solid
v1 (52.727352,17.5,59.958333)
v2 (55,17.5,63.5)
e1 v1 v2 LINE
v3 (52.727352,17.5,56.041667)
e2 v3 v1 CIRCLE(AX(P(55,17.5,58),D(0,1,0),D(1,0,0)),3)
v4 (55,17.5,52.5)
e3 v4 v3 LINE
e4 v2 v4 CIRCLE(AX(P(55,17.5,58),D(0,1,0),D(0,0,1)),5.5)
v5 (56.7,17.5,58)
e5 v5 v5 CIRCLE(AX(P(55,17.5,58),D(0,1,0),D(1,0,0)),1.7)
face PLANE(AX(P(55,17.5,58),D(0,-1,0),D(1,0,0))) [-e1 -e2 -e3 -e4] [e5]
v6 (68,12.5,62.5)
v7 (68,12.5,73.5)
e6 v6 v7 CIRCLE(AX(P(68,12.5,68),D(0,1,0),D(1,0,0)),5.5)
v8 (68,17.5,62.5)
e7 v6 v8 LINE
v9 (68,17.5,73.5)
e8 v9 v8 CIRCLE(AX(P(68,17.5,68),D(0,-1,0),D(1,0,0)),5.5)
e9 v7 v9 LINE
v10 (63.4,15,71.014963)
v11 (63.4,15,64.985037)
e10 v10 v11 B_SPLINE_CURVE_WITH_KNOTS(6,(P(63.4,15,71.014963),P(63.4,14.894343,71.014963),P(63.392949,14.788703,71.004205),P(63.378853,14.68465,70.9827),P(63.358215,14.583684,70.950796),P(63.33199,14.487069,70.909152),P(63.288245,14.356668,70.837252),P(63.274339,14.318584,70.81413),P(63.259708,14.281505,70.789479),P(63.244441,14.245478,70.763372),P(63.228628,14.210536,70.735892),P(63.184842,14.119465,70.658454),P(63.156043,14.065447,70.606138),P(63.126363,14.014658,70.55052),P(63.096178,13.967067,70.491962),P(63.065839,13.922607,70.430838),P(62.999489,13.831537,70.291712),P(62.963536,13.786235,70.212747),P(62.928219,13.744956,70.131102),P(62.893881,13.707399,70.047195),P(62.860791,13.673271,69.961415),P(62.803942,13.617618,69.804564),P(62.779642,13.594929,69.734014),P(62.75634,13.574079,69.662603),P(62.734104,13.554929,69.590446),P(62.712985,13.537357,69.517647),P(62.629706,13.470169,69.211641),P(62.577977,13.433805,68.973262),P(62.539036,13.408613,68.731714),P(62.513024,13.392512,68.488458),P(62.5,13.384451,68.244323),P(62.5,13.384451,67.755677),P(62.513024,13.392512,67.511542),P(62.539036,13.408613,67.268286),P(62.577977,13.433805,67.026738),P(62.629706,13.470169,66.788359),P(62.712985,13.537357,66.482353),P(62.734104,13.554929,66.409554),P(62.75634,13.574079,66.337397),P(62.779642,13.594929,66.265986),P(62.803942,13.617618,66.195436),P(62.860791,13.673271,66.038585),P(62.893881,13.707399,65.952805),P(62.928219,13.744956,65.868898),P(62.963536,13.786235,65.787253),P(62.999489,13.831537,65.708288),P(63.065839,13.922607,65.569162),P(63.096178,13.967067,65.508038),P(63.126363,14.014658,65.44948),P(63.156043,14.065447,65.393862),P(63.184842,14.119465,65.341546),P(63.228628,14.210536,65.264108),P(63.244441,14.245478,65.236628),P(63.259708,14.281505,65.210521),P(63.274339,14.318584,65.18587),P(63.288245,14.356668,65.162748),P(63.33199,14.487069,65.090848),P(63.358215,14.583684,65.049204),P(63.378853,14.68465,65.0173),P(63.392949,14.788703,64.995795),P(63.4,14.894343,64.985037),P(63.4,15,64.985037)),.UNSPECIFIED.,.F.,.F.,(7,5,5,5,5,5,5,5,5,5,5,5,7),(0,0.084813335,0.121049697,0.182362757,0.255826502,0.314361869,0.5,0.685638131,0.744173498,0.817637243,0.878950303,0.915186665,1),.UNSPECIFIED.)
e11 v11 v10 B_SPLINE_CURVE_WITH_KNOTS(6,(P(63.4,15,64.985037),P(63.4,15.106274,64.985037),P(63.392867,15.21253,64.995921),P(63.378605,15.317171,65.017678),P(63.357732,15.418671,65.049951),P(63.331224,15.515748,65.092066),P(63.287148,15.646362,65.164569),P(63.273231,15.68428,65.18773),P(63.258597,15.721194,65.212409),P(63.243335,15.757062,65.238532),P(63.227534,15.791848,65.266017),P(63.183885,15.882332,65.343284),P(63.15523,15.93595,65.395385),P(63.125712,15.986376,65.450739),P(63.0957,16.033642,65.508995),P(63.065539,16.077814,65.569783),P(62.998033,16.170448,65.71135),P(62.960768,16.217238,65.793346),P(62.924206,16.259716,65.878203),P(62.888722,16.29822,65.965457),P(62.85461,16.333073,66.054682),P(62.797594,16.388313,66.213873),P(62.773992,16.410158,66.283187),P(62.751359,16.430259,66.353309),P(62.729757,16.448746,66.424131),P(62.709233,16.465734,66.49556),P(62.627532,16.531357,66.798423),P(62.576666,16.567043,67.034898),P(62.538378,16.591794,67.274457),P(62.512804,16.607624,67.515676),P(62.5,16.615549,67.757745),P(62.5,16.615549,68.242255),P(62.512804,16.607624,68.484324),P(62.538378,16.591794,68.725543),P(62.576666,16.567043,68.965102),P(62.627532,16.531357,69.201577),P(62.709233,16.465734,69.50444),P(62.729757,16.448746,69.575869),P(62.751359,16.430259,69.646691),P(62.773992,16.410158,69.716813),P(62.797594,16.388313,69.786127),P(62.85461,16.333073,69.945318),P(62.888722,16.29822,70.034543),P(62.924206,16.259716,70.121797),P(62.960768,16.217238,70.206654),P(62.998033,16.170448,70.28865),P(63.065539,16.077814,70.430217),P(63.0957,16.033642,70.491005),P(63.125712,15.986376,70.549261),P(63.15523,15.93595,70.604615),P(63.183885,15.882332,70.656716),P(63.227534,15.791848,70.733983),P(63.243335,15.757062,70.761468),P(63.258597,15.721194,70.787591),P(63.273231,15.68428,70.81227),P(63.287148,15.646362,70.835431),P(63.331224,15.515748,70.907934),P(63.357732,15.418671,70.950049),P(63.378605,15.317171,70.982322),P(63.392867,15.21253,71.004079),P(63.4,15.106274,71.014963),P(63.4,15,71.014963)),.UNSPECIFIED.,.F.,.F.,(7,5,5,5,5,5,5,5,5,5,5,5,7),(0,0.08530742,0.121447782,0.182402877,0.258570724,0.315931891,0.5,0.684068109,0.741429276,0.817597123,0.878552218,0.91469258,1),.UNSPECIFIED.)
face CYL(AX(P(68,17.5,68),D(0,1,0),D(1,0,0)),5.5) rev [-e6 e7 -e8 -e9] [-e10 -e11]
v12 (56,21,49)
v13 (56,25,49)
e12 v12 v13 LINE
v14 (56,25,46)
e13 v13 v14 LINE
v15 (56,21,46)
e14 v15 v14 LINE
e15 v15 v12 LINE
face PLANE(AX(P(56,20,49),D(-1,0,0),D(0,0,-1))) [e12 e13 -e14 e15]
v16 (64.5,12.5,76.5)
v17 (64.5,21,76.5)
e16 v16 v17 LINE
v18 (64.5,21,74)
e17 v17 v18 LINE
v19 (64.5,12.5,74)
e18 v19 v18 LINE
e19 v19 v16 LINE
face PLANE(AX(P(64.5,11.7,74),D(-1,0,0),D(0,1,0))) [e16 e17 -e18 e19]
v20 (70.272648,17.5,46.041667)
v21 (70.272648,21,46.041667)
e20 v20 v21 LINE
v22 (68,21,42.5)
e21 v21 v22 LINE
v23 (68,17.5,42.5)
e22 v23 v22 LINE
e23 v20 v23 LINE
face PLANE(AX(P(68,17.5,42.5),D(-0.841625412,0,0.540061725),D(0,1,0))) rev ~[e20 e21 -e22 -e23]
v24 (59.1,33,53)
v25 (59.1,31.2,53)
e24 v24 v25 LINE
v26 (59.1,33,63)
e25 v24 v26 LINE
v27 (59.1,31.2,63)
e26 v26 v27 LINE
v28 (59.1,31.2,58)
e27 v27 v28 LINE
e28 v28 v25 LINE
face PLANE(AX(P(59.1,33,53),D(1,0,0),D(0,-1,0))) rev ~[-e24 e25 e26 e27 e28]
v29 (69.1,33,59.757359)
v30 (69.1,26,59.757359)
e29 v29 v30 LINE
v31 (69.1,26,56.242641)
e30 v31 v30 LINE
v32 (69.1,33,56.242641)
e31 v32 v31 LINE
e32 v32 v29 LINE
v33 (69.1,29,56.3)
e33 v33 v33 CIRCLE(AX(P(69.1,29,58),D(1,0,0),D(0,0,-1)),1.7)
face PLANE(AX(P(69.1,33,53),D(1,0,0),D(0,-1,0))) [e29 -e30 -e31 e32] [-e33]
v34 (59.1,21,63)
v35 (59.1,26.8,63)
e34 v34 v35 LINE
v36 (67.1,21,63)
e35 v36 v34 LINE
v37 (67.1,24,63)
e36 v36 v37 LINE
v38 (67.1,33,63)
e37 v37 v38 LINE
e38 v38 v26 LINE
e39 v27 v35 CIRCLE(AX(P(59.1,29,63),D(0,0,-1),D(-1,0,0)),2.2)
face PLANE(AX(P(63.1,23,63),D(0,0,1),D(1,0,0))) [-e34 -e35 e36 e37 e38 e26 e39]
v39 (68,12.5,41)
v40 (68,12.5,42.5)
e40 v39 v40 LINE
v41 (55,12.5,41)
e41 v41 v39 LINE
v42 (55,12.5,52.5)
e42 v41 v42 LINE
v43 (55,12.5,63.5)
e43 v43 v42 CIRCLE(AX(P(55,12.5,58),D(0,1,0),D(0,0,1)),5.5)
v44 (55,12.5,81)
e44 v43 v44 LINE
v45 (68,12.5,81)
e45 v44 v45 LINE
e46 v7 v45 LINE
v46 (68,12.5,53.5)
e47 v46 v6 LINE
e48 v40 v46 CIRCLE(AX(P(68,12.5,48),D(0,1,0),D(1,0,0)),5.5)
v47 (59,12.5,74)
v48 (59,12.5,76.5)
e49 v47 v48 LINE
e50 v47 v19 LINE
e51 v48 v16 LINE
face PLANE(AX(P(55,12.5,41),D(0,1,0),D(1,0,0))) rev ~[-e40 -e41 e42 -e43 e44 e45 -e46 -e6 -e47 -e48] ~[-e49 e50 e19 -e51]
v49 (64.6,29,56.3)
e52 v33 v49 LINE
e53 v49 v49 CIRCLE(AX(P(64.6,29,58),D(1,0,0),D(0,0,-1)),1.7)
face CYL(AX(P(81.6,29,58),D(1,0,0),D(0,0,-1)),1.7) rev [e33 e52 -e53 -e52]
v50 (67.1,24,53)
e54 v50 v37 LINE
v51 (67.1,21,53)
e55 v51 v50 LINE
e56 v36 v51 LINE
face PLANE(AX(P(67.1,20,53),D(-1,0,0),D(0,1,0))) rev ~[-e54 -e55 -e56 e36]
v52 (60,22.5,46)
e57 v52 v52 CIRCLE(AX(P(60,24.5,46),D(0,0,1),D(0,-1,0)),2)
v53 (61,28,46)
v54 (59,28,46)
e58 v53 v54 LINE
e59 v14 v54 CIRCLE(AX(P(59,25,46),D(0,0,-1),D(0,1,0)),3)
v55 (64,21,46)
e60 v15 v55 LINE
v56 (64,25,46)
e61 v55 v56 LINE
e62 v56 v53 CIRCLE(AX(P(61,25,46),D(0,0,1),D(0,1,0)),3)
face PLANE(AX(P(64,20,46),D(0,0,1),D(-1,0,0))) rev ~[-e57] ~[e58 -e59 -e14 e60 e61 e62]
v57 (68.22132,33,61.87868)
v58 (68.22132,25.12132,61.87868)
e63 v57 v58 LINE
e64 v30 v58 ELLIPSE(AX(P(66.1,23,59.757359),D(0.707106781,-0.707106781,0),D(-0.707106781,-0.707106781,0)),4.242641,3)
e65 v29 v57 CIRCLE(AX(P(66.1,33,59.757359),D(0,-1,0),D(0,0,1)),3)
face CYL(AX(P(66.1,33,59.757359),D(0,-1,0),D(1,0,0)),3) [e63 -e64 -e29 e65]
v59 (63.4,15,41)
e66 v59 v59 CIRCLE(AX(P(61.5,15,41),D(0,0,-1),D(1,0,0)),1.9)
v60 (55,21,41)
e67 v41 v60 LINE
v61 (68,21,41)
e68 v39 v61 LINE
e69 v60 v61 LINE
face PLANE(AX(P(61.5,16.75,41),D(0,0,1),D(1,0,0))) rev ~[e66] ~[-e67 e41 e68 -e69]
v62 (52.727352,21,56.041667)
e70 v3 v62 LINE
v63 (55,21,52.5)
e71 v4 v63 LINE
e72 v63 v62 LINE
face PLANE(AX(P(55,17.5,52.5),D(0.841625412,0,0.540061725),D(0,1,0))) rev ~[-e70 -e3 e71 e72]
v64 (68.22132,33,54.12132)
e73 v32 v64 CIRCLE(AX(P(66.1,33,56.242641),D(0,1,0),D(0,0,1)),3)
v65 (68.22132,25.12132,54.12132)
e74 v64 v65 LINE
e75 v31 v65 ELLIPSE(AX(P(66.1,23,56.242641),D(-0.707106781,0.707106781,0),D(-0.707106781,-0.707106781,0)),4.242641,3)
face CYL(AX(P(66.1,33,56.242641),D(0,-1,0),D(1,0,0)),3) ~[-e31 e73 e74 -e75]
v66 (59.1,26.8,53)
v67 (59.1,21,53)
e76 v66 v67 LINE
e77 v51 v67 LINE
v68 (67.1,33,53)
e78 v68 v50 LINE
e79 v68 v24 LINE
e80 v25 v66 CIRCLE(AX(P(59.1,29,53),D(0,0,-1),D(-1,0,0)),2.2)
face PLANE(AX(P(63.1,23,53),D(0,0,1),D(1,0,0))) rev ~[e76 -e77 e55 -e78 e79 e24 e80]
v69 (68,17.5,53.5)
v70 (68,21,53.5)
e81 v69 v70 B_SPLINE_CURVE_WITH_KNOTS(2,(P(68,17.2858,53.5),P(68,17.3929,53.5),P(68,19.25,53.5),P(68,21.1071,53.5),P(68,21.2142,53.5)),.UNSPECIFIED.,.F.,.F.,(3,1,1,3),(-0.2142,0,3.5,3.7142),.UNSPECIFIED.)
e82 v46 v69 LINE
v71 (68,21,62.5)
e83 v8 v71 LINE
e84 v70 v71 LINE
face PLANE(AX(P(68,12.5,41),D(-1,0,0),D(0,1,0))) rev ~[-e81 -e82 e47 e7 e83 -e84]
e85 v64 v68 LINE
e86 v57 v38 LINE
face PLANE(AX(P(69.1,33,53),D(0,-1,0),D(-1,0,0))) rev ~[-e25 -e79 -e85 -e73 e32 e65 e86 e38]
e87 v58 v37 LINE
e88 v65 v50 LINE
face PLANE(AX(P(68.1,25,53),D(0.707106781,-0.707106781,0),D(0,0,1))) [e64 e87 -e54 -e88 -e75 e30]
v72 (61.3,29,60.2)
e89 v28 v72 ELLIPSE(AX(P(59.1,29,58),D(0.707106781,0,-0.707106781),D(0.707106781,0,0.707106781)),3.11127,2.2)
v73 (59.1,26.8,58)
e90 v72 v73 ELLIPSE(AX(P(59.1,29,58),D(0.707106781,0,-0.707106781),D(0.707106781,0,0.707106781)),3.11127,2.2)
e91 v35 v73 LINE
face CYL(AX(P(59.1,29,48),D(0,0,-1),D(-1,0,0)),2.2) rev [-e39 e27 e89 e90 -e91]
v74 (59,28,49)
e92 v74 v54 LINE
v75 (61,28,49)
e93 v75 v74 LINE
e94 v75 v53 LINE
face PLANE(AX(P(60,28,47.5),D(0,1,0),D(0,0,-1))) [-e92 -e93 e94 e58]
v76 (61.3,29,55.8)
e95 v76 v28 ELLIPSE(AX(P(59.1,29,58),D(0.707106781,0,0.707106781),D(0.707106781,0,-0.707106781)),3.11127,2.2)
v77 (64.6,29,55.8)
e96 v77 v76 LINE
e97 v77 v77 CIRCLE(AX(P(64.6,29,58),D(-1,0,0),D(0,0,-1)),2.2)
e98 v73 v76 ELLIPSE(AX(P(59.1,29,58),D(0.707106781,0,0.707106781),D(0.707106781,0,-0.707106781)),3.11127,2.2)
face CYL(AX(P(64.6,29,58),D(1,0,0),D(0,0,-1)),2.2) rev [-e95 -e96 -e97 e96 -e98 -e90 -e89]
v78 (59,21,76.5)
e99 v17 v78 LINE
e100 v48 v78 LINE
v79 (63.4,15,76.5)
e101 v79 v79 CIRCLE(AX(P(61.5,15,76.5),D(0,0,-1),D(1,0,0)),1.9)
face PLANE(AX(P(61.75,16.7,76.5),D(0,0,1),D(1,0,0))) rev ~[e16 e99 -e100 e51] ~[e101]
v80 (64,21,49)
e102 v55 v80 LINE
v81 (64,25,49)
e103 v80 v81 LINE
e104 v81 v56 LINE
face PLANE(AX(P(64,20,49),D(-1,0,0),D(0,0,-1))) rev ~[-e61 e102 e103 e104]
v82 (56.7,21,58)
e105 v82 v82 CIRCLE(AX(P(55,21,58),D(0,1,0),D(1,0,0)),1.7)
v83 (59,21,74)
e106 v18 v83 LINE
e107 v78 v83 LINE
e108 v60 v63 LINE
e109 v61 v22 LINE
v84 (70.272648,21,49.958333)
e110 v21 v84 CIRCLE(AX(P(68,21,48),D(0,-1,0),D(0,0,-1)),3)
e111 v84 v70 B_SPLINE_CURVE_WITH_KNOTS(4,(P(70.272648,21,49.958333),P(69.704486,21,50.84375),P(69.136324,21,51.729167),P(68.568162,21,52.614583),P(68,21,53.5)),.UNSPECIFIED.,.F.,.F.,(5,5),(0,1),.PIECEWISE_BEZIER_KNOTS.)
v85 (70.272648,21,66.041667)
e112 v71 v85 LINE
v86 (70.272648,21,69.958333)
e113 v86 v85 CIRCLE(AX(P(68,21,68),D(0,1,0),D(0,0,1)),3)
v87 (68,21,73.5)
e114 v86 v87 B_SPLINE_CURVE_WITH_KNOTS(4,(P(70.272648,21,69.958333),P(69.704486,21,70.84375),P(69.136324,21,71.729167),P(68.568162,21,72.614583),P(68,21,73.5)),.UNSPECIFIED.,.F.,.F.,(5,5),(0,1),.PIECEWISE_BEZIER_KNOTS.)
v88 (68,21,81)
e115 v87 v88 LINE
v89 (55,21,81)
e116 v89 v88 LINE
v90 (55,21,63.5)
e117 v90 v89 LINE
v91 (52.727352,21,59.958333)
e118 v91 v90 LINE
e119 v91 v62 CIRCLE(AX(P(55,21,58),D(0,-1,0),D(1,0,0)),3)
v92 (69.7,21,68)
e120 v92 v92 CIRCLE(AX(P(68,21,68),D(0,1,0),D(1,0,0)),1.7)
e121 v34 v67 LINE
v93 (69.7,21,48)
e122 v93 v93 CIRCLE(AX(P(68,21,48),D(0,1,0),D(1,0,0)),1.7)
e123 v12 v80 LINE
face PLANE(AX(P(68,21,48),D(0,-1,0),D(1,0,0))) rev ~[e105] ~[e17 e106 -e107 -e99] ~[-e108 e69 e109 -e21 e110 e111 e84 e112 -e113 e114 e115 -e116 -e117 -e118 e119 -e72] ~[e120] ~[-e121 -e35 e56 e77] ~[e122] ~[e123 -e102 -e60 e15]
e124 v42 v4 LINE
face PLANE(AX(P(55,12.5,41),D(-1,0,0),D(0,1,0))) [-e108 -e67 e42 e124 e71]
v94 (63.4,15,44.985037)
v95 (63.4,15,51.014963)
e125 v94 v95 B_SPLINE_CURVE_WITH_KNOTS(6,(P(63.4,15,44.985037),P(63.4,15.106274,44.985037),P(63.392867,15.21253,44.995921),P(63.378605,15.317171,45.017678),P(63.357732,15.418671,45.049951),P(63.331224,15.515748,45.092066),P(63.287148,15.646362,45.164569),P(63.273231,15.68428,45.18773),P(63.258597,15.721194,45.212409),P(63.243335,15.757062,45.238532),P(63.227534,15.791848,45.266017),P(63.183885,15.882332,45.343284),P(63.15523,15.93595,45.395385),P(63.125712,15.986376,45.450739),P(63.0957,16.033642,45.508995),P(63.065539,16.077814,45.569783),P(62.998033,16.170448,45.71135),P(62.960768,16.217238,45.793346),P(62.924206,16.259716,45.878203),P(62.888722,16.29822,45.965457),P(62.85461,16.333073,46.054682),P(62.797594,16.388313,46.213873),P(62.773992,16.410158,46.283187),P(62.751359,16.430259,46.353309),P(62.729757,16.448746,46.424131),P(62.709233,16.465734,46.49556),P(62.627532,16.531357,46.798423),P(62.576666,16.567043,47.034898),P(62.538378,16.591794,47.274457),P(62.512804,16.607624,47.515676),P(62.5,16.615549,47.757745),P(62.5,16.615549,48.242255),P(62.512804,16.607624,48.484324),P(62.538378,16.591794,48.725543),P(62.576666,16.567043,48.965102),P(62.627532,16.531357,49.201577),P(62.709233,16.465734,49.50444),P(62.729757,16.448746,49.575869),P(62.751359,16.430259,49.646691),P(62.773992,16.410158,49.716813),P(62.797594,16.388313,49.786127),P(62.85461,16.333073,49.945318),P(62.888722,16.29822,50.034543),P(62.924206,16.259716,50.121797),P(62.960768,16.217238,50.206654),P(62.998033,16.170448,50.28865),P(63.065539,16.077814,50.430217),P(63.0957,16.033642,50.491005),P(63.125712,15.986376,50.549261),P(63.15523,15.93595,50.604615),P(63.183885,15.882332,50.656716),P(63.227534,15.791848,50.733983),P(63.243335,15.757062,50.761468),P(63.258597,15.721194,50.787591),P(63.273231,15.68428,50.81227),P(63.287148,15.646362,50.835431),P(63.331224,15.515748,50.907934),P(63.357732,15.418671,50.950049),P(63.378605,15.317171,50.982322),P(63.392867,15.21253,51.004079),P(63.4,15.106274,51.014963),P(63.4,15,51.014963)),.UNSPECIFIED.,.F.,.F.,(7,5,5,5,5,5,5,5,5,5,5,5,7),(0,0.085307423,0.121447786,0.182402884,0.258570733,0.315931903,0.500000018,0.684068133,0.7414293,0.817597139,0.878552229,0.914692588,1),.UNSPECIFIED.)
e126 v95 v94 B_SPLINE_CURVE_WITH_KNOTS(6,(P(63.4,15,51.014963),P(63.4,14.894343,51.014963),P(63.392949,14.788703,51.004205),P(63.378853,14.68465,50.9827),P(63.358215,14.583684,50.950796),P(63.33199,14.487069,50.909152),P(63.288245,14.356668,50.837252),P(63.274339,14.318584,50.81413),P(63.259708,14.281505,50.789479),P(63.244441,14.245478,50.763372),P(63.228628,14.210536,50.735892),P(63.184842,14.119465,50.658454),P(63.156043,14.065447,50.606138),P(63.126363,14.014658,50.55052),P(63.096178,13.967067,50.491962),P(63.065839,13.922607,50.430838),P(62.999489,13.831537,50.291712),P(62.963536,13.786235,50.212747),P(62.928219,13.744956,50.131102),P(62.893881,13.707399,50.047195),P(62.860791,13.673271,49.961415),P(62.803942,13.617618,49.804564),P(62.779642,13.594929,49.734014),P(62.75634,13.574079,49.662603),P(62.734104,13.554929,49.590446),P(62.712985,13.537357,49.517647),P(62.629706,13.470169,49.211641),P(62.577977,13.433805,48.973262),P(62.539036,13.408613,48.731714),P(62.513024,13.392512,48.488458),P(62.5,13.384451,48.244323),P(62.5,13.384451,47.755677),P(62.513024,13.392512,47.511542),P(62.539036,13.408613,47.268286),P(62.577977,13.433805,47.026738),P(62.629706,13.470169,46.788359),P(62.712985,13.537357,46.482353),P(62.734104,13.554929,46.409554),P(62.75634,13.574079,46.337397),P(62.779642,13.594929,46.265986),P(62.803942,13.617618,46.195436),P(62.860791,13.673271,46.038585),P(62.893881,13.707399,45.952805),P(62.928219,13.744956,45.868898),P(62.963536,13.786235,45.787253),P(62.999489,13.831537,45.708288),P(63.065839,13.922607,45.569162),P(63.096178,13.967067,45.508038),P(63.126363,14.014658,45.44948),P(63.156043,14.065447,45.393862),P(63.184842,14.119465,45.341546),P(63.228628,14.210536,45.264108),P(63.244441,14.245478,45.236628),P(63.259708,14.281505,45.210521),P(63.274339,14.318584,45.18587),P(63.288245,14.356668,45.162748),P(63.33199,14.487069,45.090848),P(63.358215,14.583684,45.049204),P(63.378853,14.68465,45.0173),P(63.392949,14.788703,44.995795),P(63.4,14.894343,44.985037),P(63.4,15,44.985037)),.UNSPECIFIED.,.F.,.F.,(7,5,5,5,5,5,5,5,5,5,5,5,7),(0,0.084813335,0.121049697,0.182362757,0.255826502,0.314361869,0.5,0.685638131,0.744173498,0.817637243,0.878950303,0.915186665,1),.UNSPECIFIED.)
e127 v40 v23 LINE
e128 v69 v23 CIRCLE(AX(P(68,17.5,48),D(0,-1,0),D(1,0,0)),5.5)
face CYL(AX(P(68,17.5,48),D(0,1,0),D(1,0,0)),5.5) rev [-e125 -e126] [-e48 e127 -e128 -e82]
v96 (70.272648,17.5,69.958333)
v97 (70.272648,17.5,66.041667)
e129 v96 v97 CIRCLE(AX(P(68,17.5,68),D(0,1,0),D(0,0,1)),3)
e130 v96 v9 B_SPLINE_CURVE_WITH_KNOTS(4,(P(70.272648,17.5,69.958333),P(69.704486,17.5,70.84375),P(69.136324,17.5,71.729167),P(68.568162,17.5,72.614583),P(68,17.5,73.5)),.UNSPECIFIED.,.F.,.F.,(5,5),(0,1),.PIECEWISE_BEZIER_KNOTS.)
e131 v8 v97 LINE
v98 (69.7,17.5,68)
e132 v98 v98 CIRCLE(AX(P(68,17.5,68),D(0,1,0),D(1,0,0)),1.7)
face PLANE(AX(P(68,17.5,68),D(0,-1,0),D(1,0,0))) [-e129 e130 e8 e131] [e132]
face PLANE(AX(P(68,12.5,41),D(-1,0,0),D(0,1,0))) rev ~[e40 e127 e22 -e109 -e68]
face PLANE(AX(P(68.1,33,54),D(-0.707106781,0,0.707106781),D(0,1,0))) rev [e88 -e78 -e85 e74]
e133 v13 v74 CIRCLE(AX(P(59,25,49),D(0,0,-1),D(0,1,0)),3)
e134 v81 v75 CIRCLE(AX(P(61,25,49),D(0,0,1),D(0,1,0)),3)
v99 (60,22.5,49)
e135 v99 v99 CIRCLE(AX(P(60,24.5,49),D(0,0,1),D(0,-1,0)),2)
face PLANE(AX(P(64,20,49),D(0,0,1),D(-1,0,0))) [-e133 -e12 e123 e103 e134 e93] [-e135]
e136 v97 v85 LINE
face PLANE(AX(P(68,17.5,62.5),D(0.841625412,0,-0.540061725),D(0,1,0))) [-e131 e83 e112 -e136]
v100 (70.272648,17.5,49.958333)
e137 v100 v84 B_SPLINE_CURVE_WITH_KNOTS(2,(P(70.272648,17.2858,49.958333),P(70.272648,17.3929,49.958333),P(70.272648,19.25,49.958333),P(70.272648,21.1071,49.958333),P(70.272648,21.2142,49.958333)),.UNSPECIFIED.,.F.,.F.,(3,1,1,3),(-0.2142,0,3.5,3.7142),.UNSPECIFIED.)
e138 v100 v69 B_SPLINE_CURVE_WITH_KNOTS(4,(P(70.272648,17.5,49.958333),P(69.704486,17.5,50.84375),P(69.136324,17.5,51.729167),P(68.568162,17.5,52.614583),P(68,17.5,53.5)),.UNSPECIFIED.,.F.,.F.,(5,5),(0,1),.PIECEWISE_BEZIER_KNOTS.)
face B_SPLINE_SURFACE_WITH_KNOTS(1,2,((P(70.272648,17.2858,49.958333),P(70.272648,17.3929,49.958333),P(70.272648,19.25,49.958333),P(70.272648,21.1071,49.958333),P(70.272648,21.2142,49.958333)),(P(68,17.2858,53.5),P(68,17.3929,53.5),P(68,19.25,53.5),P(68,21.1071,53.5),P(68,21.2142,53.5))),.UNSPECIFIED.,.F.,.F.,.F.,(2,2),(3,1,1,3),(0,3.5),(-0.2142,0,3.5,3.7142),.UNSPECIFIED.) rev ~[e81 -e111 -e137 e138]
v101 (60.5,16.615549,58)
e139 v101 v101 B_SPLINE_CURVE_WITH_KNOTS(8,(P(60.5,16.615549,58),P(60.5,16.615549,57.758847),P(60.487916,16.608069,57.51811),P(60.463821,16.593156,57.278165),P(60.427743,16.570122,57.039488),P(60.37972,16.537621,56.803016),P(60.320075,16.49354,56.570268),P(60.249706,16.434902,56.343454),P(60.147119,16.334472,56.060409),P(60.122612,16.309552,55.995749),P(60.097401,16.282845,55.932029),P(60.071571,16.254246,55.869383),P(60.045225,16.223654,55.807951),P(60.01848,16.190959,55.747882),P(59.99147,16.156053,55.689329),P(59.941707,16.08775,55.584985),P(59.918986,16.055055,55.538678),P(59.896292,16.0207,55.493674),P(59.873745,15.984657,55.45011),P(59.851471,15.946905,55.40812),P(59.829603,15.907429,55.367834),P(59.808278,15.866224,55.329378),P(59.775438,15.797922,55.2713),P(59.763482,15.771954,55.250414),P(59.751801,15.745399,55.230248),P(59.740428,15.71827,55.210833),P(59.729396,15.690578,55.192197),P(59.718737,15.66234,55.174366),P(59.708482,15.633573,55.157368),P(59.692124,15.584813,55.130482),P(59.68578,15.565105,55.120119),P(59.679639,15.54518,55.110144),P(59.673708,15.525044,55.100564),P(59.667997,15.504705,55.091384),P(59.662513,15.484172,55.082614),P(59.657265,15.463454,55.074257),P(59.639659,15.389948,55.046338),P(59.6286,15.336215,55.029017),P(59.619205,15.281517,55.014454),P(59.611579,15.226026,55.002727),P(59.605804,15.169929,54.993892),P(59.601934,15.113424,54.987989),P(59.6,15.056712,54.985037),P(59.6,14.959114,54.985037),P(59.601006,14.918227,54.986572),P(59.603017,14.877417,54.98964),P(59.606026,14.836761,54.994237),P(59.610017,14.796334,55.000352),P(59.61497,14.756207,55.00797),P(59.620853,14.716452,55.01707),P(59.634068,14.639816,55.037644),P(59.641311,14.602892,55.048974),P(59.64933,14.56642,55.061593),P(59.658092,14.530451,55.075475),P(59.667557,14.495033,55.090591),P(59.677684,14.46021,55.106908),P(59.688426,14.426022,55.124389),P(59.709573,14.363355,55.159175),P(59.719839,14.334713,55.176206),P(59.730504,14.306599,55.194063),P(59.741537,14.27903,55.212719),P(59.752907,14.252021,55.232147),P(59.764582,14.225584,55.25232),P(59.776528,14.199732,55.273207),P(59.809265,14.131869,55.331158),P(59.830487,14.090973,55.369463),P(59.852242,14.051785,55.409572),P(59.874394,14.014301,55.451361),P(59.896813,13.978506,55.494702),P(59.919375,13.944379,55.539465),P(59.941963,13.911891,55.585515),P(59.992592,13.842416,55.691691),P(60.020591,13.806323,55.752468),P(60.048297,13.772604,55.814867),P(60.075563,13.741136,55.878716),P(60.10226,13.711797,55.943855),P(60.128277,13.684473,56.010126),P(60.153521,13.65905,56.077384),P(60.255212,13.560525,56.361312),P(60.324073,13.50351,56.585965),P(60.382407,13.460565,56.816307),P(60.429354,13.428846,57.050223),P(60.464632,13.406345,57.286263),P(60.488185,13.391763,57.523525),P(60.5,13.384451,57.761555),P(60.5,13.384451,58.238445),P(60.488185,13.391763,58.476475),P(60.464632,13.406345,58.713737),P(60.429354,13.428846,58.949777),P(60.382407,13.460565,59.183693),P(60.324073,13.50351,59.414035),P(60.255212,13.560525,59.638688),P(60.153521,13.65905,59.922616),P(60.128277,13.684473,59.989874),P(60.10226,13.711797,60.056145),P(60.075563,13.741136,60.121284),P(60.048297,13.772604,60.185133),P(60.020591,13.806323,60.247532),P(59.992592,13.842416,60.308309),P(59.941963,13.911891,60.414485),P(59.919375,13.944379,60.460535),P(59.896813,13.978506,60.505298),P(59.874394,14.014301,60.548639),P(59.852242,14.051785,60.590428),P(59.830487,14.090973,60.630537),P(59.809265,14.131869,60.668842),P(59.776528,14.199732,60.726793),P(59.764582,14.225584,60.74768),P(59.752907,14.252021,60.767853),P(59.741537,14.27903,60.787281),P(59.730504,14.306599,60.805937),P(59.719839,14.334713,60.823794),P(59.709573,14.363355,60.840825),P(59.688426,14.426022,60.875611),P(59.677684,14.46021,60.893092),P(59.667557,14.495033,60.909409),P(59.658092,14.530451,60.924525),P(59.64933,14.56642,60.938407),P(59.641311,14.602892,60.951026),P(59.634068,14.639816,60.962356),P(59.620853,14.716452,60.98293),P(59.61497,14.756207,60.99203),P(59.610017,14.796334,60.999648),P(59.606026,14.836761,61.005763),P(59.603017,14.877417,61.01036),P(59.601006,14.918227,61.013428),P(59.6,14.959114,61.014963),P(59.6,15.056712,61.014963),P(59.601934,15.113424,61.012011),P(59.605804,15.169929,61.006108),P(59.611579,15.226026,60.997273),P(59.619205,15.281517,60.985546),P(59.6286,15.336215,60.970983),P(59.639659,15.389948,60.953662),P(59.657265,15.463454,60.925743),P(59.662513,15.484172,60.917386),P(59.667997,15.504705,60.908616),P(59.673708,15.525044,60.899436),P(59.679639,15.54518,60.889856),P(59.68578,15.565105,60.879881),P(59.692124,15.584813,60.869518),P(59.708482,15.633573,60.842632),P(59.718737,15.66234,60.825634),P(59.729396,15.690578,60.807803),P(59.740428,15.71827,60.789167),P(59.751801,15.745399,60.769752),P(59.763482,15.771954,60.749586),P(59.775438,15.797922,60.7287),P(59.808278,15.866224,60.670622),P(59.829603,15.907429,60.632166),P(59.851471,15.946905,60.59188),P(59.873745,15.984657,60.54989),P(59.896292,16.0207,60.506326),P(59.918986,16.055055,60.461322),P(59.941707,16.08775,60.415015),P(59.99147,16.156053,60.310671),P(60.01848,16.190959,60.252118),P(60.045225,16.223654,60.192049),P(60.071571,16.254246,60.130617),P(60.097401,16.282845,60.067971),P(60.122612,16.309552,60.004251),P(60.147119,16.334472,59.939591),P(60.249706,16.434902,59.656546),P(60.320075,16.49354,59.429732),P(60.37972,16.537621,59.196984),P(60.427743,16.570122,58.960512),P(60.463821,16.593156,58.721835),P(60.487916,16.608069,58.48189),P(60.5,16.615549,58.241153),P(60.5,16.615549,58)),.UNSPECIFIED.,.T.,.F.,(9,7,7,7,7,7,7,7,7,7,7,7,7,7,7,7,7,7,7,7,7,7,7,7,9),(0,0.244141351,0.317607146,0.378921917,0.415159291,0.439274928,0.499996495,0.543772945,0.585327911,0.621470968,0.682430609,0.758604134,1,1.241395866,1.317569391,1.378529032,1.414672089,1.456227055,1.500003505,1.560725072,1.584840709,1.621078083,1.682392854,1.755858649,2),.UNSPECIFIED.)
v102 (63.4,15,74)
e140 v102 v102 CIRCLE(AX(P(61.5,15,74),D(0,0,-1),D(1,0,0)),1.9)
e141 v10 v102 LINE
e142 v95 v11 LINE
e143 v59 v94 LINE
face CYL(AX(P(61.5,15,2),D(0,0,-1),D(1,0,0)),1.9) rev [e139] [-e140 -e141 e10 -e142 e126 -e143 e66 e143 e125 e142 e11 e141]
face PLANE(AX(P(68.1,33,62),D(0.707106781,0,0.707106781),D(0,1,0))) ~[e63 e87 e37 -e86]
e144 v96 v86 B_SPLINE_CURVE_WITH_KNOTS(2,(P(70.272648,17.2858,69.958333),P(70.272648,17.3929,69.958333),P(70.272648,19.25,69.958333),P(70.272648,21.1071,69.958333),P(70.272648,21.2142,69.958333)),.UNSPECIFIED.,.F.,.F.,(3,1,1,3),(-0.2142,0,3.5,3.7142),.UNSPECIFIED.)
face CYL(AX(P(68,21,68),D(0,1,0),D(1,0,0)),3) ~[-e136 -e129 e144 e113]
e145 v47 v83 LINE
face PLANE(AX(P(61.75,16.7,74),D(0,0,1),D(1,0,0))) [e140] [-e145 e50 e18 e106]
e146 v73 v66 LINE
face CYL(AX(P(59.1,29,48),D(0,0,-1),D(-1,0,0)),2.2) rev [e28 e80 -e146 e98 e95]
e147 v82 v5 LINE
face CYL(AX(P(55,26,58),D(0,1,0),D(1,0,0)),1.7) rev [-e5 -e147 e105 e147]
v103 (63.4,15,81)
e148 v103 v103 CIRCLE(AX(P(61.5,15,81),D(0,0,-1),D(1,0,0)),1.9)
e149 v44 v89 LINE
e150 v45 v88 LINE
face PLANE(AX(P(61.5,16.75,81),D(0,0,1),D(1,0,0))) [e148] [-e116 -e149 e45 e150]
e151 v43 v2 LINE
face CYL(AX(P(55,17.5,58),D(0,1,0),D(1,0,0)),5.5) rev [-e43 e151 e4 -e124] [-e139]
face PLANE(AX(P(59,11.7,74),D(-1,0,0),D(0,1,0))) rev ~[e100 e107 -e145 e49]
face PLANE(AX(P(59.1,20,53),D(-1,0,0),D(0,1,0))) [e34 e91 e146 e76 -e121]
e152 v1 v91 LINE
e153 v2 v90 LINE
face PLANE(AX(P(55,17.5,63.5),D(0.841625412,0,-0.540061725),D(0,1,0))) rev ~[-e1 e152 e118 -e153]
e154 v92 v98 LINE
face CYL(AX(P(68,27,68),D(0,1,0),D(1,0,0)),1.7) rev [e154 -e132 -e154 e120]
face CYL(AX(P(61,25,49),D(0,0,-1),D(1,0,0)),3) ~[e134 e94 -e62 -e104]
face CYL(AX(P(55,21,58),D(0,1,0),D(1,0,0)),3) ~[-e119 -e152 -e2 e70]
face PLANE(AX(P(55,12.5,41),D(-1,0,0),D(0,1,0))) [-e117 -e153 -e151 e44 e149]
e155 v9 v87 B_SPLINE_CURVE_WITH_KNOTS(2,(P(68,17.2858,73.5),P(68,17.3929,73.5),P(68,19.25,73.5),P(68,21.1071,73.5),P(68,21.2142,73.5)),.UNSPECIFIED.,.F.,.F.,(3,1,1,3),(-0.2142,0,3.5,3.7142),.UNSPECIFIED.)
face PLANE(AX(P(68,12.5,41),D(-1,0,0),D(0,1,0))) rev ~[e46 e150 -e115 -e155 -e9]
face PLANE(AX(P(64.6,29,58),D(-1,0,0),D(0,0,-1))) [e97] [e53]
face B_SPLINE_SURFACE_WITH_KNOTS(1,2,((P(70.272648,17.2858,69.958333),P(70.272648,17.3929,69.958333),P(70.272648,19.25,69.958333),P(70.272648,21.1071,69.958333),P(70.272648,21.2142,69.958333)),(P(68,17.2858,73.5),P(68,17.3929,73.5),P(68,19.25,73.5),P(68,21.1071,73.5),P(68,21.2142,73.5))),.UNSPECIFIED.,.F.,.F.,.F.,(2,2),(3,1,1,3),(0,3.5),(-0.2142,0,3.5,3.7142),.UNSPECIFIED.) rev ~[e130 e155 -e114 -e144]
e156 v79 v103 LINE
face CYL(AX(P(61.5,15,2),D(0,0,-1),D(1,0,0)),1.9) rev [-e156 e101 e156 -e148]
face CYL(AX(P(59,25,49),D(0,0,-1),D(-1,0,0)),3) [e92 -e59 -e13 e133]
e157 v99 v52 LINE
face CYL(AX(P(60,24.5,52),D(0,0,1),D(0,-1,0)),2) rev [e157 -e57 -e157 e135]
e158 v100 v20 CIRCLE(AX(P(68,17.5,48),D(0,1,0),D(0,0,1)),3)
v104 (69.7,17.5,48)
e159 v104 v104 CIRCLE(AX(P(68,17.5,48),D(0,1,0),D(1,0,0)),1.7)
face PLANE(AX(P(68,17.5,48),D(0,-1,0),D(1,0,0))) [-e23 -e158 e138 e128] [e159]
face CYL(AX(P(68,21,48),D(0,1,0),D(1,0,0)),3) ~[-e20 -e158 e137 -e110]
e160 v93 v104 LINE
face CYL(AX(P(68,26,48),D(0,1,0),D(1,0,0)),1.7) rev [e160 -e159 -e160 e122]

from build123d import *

# Parameters (mm, degrees)
BOX001027045206_W       = 8
BOX001027045206_H       = 6
BOX001027045206_DEPTH   = 10
CYLINDER272_R           = 2.2
CYLINDER272_DEPTH       = 30
CYLINDER271_R           = 2.2
CYLINDER271_DEPTH       = 30
CYLINDER271_PITCH_ANGLE = 90
CYLINDER270_R           = 1.7
CYLINDER270_DEPTH       = 30
CYLINDER270_PITCH_ANGLE = 90
BOX001027045200_W       = 10
BOX001027045200_H       = 9
BOX001027045200_DEPTH   = 10
CHAMFER015_SIZE         = 2
CHAMFER016_SIZE         = 2
FILLET046_R             = 3
CYLINDER045_R           = 1.9
CYLINDER045_DEPTH       = 200
BOX030_W                = 5.5
BOX030_H                = 10
BOX030_DEPTH            = 2.5
CYLINDER048_R           = 5.5
CYLINDER048_DEPTH       = 10
CYLINDER048_ROLL_ANGLE  = 90
CYLINDER050_R           = 5.5
CYLINDER050_DEPTH       = 10
CYLINDER050_ROLL_ANGLE  = 90
CYLINDER052_R           = 1.7
CYLINDER052_DEPTH       = 30
CYLINDER052_ROLL_ANGLE  = 90
CYLINDER053_R           = 1.7
CYLINDER053_DEPTH       = 30
CYLINDER053_ROLL_ANGLE  = 90
CYLINDER054_R           = 1.7
CYLINDER054_DEPTH       = 30
CYLINDER054_ROLL_ANGLE  = 90
CYLINDER047_R           = 5.5
CYLINDER047_DEPTH       = 10
CYLINDER047_ROLL_ANGLE  = 90
CYLINDER049_R           = 3
CYLINDER049_DEPTH       = 10
CYLINDER049_ROLL_ANGLE  = 90
CYLINDER051_R           = 3
CYLINDER051_DEPTH       = 10
CYLINDER051_ROLL_ANGLE  = 90
CYLINDER046_R           = 3
CYLINDER046_DEPTH       = 10
CYLINDER046_ROLL_ANGLE  = 90
BOX028_W                = 13
BOX028_H                = 8.5
BOX028_DEPTH            = 40
CHAMFER006_SIZE         = 2.5
CYLINDER273_R           = 2
CYLINDER273_DEPTH       = 10
CYLINDER273_PITCH_ANGLE = 90
BOX001027045201_W       = 3
BOX001027045201_H       = 8
BOX001027045201_DEPTH   = 8
FILLET047_R             = 3
CUT247_PITCH_ANGLE      = 90
CUT247_PLACEMENT_ANGLE  = 90


with BuildPart() as cube252:
    # Box001027045206 → Box001027045206 (new body)
    with BuildSketch(Plane(origin=(59.1, 20, 53), x_dir=(1, 0, 0), z_dir=(0, 0, 1))):
        with Locations((4, 3)):
            Rectangle(BOX001027045206_W, BOX001027045206_H)
    extrude(amount=BOX001027045206_DEPTH)


with BuildPart() as cylinder288:
    # Cylinder272 → Cylinder272 (new body)
    with BuildSketch(Plane(origin=(79.5, 5, 48), x_dir=(1, 0, 0), z_dir=(0, 0, 1))):
        Circle(CYLINDER272_R)
    extrude(amount=CYLINDER272_DEPTH)


with BuildPart() as cylinder287:
    # Cylinder271 → Cylinder271 (new body)
    with BuildSketch(Plane.XY):
        Circle(CYLINDER271_R)
    extrude(amount=CYLINDER271_DEPTH)


with BuildPart() as cylinder287_1:
    # Cylinder271 pitch: moved
    add(cylinder287.part.rotate(Axis((0, 0, 0), (0, 1, 0)), CYLINDER271_PITCH_ANGLE))


with BuildPart() as cylinder287_2:
    # Cylinder271 placement: moved
    add(cylinder287_1.part.moved(Location((74, 5, 58))))


with BuildPart() as cylinder286:
    # Cylinder270 → Cylinder270 (new body)
    with BuildSketch(Plane.XY):
        Circle(CYLINDER270_R)
    extrude(amount=CYLINDER270_DEPTH)


with BuildPart() as cylinder286_1:
    # Cylinder270 pitch: moved
    add(cylinder286.part.rotate(Axis((0, 0, 0), (0, 1, 0)), CYLINDER270_PITCH_ANGLE))


with BuildPart() as cylinder286_2:
    # Cylinder270 placement: moved
    add(cylinder286_1.part.moved(Location((57, 5, 58))))


with BuildPart() as led_pt_holder001:
    # Box001027045200 → Box001027045200 (new body)
    with BuildSketch(Plane(origin=(71, 1, 53), x_dir=(1, 0, 0), z_dir=(0, 0, 1))):
        with Locations((5, 4.5)):
            Rectangle(BOX001027045200_W, BOX001027045200_H)
    extrude(amount=BOX001027045200_DEPTH)

    # Chamfer015
    chamfer015_edges = [led_pt_holder001.edges().sort_by_distance(p)[0] for p in [
        (71, 10, 58),
    ]]
    chamfer(chamfer015_edges, length=CHAMFER015_SIZE)


with BuildPart() as led_pt_holder001_1:
    # Chamfer015 placement: moved
    add(led_pt_holder001.part.moved(Location((-1.5, 0, 0))))

    # Chamfer016
    chamfer016_edges = [led_pt_holder001_1.edges().sort_by_distance(p)[0] for p in [
        (69.5, 4.5, 63),
        (69.5, 4.5, 53),
    ]]
    chamfer(chamfer016_edges, length=CHAMFER016_SIZE)

    # Cut242: cut Cylinder286
    add(cylinder286_2.part, mode=Mode.SUBTRACT)

    # Cut243: cut Cylinder287
    add(cylinder287_2.part, mode=Mode.SUBTRACT)

    # Fillet046
    fillet046_edges = [led_pt_holder001_1.edges().sort_by_distance(p)[0] for p in [
        (69.5, 4.5, 55),
        (69.5, 4.5, 61),
    ]]
    fillet(fillet046_edges, radius=FILLET046_R)

    # Cut245: cut Cylinder288
    add(cylinder288.part, mode=Mode.SUBTRACT)


with BuildPart() as part_mirroring015:
    # Part__Mirroring015: instance of led-pt-holder001
    add(led_pt_holder001_1.part.mirror(Plane(origin=(60, 0, 0), x_dir=(0, -1, 0), z_dir=(1, 0, 0))))


with BuildPart() as part_mirroring015_1:
    # Part__Mirroring015 placement: moved
    add(part_mirroring015.part.moved(Location((18.6, 0, 0))))


with BuildPart() as pt_holder:
    # Part__Mirroring019: instance of Part__Mirroring015
    add(part_mirroring015_1.part.mirror(Plane(origin=(0, 0, 0), x_dir=(1, 0, 0), z_dir=(0, 1, 0))))


with BuildPart() as pt_holder_1:
    # Part__Mirroring019 placement: moved
    add(pt_holder.part.moved(Location((0, 34, 0))))

    # Fusion112161: union Cube252
    add(cube252.part)


with BuildPart() as m3_studding004:
    # Cylinder045 → Cylinder045 (new body)
    with BuildSketch(Plane(origin=(61.5, 15, 2), x_dir=(1, 0, 0), z_dir=(0, 0, 1))):
        Circle(CYLINDER045_R)
    extrude(amount=CYLINDER045_DEPTH)


with BuildPart() as m3_nut_hole:
    # Box030 → Box030 (new body)
    with BuildSketch(Plane(origin=(59, 11.7, 74), x_dir=(1, 0, 0), z_dir=(0, 0, 1))):
        with Locations((2.75, 5)):
            Rectangle(BOX030_W, BOX030_H)
    extrude(amount=BOX030_DEPTH)


with BuildPart() as cylinder088:
    # Cylinder048 → Cylinder048 (new body)
    with BuildSketch(Plane.XY):
        Circle(CYLINDER048_R)
    extrude(amount=CYLINDER048_DEPTH)


with BuildPart() as cylinder088_1:
    # Cylinder048 roll: moved
    add(cylinder088.part.rotate(Axis((0, 0, 0), (1, 0, 0)), CYLINDER048_ROLL_ANGLE))


with BuildPart() as cylinder088_2:
    # Cylinder048 placement: moved
    add(cylinder088_1.part.moved(Location((68, 17.5, 68))))


with BuildPart() as cylinder090:
    # Cylinder050 → Cylinder050 (new body)
    with BuildSketch(Plane.XY):
        Circle(CYLINDER050_R)
    extrude(amount=CYLINDER050_DEPTH)


with BuildPart() as cylinder090_1:
    # Cylinder050 roll: moved
    add(cylinder090.part.rotate(Axis((0, 0, 0), (1, 0, 0)), CYLINDER050_ROLL_ANGLE))


with BuildPart() as cylinder090_2:
    # Cylinder050 placement: moved
    add(cylinder090_1.part.moved(Location((68, 17.5, 48))))


with BuildPart() as cylinder092:
    # Cylinder052 → Cylinder052 (new body)
    with BuildSketch(Plane.XY):
        Circle(CYLINDER052_R)
    extrude(amount=CYLINDER052_DEPTH)


with BuildPart() as cylinder092_1:
    # Cylinder052 roll: moved
    add(cylinder092.part.rotate(Axis((0, 0, 0), (1, 0, 0)), CYLINDER052_ROLL_ANGLE))


with BuildPart() as cylinder092_2:
    # Cylinder052 placement: moved
    add(cylinder092_1.part.moved(Location((68, 26, 48))))


with BuildPart() as cylinder052:
    # Cylinder053 → Cylinder053 (new body)
    with BuildSketch(Plane.XY):
        Circle(CYLINDER053_R)
    extrude(amount=CYLINDER053_DEPTH)


with BuildPart() as cylinder052_1:
    # Cylinder053 roll: moved
    add(cylinder052.part.rotate(Axis((0, 0, 0), (1, 0, 0)), CYLINDER053_ROLL_ANGLE))


with BuildPart() as cylinder052_2:
    # Cylinder053 placement: moved
    add(cylinder052_1.part.moved(Location((68, 27, 68))))


with BuildPart() as cylinder093:
    # Cylinder054 → Cylinder054 (new body)
    with BuildSketch(Plane.XY):
        Circle(CYLINDER054_R)
    extrude(amount=CYLINDER054_DEPTH)


with BuildPart() as cylinder093_1:
    # Cylinder054 roll: moved
    add(cylinder093.part.rotate(Axis((0, 0, 0), (1, 0, 0)), CYLINDER054_ROLL_ANGLE))


with BuildPart() as cylinder093_2:
    # Cylinder054 placement: moved
    add(cylinder093_1.part.moved(Location((55, 26, 58))))


with BuildPart() as trolley_clearances_and_screws:
    # Cylinder047 → Cylinder047 (new body)
    with BuildSketch(Plane.XY):
        Circle(CYLINDER047_R)
    extrude(amount=CYLINDER047_DEPTH)


with BuildPart() as trolley_clearances_and_screws_1:
    # Cylinder047 roll: moved
    add(trolley_clearances_and_screws.part.rotate(Axis((0, 0, 0), (1, 0, 0)), CYLINDER047_ROLL_ANGLE))


with BuildPart() as trolley_clearances_and_screws_2:
    # Cylinder047 placement: moved
    add(trolley_clearances_and_screws_1.part.moved(Location((55, 17.5, 58))))

    # Fusion028: union Cylinder088, Cylinder090, Cylinder092, Cylinder052, Cylinder093
    add(cylinder088_2.part)
    add(cylinder090_2.part)
    add(cylinder092_2.part)
    add(cylinder052_2.part)
    add(cylinder093_2.part)


with BuildPart() as cylinder089:
    # Cylinder049 → Cylinder049 (new body)
    with BuildSketch(Plane.XY):
        Circle(CYLINDER049_R)
    extrude(amount=CYLINDER049_DEPTH)


with BuildPart() as cylinder089_1:
    # Cylinder049 roll: moved
    add(cylinder089.part.rotate(Axis((0, 0, 0), (1, 0, 0)), CYLINDER049_ROLL_ANGLE))


with BuildPart() as cylinder089_2:
    # Cylinder049 placement: moved
    add(cylinder089_1.part.moved(Location((68, 21, 68))))


with BuildPart() as cylinder091:
    # Cylinder051 → Cylinder051 (new body)
    with BuildSketch(Plane.XY):
        Circle(CYLINDER051_R)
    extrude(amount=CYLINDER051_DEPTH)


with BuildPart() as cylinder091_1:
    # Cylinder051 roll: moved
    add(cylinder091.part.rotate(Axis((0, 0, 0), (1, 0, 0)), CYLINDER051_ROLL_ANGLE))


with BuildPart() as cylinder091_2:
    # Cylinder051 placement: moved
    add(cylinder091_1.part.moved(Location((68, 21, 48))))


with BuildPart() as trolley_hubs:
    # Cylinder046 → Cylinder046 (new body)
    with BuildSketch(Plane.XY):
        Circle(CYLINDER046_R)
    extrude(amount=CYLINDER046_DEPTH)


with BuildPart() as trolley_hubs_1:
    # Cylinder046 roll: moved
    add(trolley_hubs.part.rotate(Axis((0, 0, 0), (1, 0, 0)), CYLINDER046_ROLL_ANGLE))


with BuildPart() as trolley_hubs_2:
    # Cylinder046 placement: moved
    add(trolley_hubs_1.part.moved(Location((55, 21, 58))))

    # Fusion027: union Cylinder089, Cylinder091
    add(cylinder089_2.part)
    add(cylinder091_2.part)


with BuildPart() as trolley_b001:
    # Box028 → Box028 (new body)
    with BuildSketch(Plane(origin=(55, 12.5, 41), x_dir=(1, 0, 0), z_dir=(0, 0, 1))):
        with Locations((6.5, 4.25)):
            Rectangle(BOX028_W, BOX028_H)
    extrude(amount=BOX028_DEPTH)

    # Fusion029: union trolley-hubs
    add(trolley_hubs_2.part)

    # Cut017: cut trolley-clearances-and-screws
    add(trolley_clearances_and_screws_2.part, mode=Mode.SUBTRACT)

    # Cut019: cut M3-nut-hole
    add(m3_nut_hole.part, mode=Mode.SUBTRACT)

    # Chamfer006
    chamfer006_edges = [trolley_b001.edges().sort_by_distance(p)[0] for p in [
        (55, 19.25, 55),
        (68, 19.25, 45),
        (55, 19.25, 61),
        (68, 19.25, 65),
        (68, 19.25, 51),
        (68, 19.25, 71),
    ]]
    chamfer(chamfer006_edges, length=CHAMFER006_SIZE)

    # Cut033: cut m3-studding004
    add(m3_studding004.part, mode=Mode.SUBTRACT)


with BuildPart() as cylinder289:
    # Cylinder273 → Cylinder273 (new body)
    with BuildSketch(Plane.XY):
        Circle(CYLINDER273_R)
    extrude(amount=CYLINDER273_DEPTH)


with BuildPart() as cylinder289_1:
    # Cylinder273 pitch: moved
    add(cylinder289.part.rotate(Axis((0, 0, 0), (0, 1, 0)), CYLINDER273_PITCH_ANGLE))


with BuildPart() as cylinder289_2:
    # Cylinder273 placement: moved
    add(cylinder289_1.part.moved(Location((-3, 4, 4.5))))


with BuildPart() as trolley:
    # Box001027045201 → Box001027045201 (new body)
    with BuildSketch(Plane.XY):
        with Locations((1.5, 4)):
            Rectangle(BOX001027045201_W, BOX001027045201_H)
    extrude(amount=BOX001027045201_DEPTH)

    # Fillet047
    fillet047_edges = [trolley.edges().sort_by_distance(p)[0] for p in [
        (1.5, 0, 8),
        (1.5, 8, 8),
    ]]
    fillet(fillet047_edges, radius=FILLET047_R)

    # Cut247: cut Cylinder289
    add(cylinder289_2.part, mode=Mode.SUBTRACT)


with BuildPart() as trolley_1:
    # Cut247 pitch: moved
    add(trolley.part.rotate(Axis((0, 0, 0), (0, 1, 0)), CUT247_PITCH_ANGLE))


with BuildPart() as trolley_2:
    # Cut247 placement: moved
    add(trolley_1.part.moved(Location((64, 20, 49))).rotate(Axis((64, 20, 49), (0, 0, 1)), CUT247_PLACEMENT_ANGLE))

    # Fusion112159: union trolley-b001
    add(trolley_b001.part)

    # Fusion112164: union pt-holder
    add(pt_holder_1.part)


solid = trolley_2.part
